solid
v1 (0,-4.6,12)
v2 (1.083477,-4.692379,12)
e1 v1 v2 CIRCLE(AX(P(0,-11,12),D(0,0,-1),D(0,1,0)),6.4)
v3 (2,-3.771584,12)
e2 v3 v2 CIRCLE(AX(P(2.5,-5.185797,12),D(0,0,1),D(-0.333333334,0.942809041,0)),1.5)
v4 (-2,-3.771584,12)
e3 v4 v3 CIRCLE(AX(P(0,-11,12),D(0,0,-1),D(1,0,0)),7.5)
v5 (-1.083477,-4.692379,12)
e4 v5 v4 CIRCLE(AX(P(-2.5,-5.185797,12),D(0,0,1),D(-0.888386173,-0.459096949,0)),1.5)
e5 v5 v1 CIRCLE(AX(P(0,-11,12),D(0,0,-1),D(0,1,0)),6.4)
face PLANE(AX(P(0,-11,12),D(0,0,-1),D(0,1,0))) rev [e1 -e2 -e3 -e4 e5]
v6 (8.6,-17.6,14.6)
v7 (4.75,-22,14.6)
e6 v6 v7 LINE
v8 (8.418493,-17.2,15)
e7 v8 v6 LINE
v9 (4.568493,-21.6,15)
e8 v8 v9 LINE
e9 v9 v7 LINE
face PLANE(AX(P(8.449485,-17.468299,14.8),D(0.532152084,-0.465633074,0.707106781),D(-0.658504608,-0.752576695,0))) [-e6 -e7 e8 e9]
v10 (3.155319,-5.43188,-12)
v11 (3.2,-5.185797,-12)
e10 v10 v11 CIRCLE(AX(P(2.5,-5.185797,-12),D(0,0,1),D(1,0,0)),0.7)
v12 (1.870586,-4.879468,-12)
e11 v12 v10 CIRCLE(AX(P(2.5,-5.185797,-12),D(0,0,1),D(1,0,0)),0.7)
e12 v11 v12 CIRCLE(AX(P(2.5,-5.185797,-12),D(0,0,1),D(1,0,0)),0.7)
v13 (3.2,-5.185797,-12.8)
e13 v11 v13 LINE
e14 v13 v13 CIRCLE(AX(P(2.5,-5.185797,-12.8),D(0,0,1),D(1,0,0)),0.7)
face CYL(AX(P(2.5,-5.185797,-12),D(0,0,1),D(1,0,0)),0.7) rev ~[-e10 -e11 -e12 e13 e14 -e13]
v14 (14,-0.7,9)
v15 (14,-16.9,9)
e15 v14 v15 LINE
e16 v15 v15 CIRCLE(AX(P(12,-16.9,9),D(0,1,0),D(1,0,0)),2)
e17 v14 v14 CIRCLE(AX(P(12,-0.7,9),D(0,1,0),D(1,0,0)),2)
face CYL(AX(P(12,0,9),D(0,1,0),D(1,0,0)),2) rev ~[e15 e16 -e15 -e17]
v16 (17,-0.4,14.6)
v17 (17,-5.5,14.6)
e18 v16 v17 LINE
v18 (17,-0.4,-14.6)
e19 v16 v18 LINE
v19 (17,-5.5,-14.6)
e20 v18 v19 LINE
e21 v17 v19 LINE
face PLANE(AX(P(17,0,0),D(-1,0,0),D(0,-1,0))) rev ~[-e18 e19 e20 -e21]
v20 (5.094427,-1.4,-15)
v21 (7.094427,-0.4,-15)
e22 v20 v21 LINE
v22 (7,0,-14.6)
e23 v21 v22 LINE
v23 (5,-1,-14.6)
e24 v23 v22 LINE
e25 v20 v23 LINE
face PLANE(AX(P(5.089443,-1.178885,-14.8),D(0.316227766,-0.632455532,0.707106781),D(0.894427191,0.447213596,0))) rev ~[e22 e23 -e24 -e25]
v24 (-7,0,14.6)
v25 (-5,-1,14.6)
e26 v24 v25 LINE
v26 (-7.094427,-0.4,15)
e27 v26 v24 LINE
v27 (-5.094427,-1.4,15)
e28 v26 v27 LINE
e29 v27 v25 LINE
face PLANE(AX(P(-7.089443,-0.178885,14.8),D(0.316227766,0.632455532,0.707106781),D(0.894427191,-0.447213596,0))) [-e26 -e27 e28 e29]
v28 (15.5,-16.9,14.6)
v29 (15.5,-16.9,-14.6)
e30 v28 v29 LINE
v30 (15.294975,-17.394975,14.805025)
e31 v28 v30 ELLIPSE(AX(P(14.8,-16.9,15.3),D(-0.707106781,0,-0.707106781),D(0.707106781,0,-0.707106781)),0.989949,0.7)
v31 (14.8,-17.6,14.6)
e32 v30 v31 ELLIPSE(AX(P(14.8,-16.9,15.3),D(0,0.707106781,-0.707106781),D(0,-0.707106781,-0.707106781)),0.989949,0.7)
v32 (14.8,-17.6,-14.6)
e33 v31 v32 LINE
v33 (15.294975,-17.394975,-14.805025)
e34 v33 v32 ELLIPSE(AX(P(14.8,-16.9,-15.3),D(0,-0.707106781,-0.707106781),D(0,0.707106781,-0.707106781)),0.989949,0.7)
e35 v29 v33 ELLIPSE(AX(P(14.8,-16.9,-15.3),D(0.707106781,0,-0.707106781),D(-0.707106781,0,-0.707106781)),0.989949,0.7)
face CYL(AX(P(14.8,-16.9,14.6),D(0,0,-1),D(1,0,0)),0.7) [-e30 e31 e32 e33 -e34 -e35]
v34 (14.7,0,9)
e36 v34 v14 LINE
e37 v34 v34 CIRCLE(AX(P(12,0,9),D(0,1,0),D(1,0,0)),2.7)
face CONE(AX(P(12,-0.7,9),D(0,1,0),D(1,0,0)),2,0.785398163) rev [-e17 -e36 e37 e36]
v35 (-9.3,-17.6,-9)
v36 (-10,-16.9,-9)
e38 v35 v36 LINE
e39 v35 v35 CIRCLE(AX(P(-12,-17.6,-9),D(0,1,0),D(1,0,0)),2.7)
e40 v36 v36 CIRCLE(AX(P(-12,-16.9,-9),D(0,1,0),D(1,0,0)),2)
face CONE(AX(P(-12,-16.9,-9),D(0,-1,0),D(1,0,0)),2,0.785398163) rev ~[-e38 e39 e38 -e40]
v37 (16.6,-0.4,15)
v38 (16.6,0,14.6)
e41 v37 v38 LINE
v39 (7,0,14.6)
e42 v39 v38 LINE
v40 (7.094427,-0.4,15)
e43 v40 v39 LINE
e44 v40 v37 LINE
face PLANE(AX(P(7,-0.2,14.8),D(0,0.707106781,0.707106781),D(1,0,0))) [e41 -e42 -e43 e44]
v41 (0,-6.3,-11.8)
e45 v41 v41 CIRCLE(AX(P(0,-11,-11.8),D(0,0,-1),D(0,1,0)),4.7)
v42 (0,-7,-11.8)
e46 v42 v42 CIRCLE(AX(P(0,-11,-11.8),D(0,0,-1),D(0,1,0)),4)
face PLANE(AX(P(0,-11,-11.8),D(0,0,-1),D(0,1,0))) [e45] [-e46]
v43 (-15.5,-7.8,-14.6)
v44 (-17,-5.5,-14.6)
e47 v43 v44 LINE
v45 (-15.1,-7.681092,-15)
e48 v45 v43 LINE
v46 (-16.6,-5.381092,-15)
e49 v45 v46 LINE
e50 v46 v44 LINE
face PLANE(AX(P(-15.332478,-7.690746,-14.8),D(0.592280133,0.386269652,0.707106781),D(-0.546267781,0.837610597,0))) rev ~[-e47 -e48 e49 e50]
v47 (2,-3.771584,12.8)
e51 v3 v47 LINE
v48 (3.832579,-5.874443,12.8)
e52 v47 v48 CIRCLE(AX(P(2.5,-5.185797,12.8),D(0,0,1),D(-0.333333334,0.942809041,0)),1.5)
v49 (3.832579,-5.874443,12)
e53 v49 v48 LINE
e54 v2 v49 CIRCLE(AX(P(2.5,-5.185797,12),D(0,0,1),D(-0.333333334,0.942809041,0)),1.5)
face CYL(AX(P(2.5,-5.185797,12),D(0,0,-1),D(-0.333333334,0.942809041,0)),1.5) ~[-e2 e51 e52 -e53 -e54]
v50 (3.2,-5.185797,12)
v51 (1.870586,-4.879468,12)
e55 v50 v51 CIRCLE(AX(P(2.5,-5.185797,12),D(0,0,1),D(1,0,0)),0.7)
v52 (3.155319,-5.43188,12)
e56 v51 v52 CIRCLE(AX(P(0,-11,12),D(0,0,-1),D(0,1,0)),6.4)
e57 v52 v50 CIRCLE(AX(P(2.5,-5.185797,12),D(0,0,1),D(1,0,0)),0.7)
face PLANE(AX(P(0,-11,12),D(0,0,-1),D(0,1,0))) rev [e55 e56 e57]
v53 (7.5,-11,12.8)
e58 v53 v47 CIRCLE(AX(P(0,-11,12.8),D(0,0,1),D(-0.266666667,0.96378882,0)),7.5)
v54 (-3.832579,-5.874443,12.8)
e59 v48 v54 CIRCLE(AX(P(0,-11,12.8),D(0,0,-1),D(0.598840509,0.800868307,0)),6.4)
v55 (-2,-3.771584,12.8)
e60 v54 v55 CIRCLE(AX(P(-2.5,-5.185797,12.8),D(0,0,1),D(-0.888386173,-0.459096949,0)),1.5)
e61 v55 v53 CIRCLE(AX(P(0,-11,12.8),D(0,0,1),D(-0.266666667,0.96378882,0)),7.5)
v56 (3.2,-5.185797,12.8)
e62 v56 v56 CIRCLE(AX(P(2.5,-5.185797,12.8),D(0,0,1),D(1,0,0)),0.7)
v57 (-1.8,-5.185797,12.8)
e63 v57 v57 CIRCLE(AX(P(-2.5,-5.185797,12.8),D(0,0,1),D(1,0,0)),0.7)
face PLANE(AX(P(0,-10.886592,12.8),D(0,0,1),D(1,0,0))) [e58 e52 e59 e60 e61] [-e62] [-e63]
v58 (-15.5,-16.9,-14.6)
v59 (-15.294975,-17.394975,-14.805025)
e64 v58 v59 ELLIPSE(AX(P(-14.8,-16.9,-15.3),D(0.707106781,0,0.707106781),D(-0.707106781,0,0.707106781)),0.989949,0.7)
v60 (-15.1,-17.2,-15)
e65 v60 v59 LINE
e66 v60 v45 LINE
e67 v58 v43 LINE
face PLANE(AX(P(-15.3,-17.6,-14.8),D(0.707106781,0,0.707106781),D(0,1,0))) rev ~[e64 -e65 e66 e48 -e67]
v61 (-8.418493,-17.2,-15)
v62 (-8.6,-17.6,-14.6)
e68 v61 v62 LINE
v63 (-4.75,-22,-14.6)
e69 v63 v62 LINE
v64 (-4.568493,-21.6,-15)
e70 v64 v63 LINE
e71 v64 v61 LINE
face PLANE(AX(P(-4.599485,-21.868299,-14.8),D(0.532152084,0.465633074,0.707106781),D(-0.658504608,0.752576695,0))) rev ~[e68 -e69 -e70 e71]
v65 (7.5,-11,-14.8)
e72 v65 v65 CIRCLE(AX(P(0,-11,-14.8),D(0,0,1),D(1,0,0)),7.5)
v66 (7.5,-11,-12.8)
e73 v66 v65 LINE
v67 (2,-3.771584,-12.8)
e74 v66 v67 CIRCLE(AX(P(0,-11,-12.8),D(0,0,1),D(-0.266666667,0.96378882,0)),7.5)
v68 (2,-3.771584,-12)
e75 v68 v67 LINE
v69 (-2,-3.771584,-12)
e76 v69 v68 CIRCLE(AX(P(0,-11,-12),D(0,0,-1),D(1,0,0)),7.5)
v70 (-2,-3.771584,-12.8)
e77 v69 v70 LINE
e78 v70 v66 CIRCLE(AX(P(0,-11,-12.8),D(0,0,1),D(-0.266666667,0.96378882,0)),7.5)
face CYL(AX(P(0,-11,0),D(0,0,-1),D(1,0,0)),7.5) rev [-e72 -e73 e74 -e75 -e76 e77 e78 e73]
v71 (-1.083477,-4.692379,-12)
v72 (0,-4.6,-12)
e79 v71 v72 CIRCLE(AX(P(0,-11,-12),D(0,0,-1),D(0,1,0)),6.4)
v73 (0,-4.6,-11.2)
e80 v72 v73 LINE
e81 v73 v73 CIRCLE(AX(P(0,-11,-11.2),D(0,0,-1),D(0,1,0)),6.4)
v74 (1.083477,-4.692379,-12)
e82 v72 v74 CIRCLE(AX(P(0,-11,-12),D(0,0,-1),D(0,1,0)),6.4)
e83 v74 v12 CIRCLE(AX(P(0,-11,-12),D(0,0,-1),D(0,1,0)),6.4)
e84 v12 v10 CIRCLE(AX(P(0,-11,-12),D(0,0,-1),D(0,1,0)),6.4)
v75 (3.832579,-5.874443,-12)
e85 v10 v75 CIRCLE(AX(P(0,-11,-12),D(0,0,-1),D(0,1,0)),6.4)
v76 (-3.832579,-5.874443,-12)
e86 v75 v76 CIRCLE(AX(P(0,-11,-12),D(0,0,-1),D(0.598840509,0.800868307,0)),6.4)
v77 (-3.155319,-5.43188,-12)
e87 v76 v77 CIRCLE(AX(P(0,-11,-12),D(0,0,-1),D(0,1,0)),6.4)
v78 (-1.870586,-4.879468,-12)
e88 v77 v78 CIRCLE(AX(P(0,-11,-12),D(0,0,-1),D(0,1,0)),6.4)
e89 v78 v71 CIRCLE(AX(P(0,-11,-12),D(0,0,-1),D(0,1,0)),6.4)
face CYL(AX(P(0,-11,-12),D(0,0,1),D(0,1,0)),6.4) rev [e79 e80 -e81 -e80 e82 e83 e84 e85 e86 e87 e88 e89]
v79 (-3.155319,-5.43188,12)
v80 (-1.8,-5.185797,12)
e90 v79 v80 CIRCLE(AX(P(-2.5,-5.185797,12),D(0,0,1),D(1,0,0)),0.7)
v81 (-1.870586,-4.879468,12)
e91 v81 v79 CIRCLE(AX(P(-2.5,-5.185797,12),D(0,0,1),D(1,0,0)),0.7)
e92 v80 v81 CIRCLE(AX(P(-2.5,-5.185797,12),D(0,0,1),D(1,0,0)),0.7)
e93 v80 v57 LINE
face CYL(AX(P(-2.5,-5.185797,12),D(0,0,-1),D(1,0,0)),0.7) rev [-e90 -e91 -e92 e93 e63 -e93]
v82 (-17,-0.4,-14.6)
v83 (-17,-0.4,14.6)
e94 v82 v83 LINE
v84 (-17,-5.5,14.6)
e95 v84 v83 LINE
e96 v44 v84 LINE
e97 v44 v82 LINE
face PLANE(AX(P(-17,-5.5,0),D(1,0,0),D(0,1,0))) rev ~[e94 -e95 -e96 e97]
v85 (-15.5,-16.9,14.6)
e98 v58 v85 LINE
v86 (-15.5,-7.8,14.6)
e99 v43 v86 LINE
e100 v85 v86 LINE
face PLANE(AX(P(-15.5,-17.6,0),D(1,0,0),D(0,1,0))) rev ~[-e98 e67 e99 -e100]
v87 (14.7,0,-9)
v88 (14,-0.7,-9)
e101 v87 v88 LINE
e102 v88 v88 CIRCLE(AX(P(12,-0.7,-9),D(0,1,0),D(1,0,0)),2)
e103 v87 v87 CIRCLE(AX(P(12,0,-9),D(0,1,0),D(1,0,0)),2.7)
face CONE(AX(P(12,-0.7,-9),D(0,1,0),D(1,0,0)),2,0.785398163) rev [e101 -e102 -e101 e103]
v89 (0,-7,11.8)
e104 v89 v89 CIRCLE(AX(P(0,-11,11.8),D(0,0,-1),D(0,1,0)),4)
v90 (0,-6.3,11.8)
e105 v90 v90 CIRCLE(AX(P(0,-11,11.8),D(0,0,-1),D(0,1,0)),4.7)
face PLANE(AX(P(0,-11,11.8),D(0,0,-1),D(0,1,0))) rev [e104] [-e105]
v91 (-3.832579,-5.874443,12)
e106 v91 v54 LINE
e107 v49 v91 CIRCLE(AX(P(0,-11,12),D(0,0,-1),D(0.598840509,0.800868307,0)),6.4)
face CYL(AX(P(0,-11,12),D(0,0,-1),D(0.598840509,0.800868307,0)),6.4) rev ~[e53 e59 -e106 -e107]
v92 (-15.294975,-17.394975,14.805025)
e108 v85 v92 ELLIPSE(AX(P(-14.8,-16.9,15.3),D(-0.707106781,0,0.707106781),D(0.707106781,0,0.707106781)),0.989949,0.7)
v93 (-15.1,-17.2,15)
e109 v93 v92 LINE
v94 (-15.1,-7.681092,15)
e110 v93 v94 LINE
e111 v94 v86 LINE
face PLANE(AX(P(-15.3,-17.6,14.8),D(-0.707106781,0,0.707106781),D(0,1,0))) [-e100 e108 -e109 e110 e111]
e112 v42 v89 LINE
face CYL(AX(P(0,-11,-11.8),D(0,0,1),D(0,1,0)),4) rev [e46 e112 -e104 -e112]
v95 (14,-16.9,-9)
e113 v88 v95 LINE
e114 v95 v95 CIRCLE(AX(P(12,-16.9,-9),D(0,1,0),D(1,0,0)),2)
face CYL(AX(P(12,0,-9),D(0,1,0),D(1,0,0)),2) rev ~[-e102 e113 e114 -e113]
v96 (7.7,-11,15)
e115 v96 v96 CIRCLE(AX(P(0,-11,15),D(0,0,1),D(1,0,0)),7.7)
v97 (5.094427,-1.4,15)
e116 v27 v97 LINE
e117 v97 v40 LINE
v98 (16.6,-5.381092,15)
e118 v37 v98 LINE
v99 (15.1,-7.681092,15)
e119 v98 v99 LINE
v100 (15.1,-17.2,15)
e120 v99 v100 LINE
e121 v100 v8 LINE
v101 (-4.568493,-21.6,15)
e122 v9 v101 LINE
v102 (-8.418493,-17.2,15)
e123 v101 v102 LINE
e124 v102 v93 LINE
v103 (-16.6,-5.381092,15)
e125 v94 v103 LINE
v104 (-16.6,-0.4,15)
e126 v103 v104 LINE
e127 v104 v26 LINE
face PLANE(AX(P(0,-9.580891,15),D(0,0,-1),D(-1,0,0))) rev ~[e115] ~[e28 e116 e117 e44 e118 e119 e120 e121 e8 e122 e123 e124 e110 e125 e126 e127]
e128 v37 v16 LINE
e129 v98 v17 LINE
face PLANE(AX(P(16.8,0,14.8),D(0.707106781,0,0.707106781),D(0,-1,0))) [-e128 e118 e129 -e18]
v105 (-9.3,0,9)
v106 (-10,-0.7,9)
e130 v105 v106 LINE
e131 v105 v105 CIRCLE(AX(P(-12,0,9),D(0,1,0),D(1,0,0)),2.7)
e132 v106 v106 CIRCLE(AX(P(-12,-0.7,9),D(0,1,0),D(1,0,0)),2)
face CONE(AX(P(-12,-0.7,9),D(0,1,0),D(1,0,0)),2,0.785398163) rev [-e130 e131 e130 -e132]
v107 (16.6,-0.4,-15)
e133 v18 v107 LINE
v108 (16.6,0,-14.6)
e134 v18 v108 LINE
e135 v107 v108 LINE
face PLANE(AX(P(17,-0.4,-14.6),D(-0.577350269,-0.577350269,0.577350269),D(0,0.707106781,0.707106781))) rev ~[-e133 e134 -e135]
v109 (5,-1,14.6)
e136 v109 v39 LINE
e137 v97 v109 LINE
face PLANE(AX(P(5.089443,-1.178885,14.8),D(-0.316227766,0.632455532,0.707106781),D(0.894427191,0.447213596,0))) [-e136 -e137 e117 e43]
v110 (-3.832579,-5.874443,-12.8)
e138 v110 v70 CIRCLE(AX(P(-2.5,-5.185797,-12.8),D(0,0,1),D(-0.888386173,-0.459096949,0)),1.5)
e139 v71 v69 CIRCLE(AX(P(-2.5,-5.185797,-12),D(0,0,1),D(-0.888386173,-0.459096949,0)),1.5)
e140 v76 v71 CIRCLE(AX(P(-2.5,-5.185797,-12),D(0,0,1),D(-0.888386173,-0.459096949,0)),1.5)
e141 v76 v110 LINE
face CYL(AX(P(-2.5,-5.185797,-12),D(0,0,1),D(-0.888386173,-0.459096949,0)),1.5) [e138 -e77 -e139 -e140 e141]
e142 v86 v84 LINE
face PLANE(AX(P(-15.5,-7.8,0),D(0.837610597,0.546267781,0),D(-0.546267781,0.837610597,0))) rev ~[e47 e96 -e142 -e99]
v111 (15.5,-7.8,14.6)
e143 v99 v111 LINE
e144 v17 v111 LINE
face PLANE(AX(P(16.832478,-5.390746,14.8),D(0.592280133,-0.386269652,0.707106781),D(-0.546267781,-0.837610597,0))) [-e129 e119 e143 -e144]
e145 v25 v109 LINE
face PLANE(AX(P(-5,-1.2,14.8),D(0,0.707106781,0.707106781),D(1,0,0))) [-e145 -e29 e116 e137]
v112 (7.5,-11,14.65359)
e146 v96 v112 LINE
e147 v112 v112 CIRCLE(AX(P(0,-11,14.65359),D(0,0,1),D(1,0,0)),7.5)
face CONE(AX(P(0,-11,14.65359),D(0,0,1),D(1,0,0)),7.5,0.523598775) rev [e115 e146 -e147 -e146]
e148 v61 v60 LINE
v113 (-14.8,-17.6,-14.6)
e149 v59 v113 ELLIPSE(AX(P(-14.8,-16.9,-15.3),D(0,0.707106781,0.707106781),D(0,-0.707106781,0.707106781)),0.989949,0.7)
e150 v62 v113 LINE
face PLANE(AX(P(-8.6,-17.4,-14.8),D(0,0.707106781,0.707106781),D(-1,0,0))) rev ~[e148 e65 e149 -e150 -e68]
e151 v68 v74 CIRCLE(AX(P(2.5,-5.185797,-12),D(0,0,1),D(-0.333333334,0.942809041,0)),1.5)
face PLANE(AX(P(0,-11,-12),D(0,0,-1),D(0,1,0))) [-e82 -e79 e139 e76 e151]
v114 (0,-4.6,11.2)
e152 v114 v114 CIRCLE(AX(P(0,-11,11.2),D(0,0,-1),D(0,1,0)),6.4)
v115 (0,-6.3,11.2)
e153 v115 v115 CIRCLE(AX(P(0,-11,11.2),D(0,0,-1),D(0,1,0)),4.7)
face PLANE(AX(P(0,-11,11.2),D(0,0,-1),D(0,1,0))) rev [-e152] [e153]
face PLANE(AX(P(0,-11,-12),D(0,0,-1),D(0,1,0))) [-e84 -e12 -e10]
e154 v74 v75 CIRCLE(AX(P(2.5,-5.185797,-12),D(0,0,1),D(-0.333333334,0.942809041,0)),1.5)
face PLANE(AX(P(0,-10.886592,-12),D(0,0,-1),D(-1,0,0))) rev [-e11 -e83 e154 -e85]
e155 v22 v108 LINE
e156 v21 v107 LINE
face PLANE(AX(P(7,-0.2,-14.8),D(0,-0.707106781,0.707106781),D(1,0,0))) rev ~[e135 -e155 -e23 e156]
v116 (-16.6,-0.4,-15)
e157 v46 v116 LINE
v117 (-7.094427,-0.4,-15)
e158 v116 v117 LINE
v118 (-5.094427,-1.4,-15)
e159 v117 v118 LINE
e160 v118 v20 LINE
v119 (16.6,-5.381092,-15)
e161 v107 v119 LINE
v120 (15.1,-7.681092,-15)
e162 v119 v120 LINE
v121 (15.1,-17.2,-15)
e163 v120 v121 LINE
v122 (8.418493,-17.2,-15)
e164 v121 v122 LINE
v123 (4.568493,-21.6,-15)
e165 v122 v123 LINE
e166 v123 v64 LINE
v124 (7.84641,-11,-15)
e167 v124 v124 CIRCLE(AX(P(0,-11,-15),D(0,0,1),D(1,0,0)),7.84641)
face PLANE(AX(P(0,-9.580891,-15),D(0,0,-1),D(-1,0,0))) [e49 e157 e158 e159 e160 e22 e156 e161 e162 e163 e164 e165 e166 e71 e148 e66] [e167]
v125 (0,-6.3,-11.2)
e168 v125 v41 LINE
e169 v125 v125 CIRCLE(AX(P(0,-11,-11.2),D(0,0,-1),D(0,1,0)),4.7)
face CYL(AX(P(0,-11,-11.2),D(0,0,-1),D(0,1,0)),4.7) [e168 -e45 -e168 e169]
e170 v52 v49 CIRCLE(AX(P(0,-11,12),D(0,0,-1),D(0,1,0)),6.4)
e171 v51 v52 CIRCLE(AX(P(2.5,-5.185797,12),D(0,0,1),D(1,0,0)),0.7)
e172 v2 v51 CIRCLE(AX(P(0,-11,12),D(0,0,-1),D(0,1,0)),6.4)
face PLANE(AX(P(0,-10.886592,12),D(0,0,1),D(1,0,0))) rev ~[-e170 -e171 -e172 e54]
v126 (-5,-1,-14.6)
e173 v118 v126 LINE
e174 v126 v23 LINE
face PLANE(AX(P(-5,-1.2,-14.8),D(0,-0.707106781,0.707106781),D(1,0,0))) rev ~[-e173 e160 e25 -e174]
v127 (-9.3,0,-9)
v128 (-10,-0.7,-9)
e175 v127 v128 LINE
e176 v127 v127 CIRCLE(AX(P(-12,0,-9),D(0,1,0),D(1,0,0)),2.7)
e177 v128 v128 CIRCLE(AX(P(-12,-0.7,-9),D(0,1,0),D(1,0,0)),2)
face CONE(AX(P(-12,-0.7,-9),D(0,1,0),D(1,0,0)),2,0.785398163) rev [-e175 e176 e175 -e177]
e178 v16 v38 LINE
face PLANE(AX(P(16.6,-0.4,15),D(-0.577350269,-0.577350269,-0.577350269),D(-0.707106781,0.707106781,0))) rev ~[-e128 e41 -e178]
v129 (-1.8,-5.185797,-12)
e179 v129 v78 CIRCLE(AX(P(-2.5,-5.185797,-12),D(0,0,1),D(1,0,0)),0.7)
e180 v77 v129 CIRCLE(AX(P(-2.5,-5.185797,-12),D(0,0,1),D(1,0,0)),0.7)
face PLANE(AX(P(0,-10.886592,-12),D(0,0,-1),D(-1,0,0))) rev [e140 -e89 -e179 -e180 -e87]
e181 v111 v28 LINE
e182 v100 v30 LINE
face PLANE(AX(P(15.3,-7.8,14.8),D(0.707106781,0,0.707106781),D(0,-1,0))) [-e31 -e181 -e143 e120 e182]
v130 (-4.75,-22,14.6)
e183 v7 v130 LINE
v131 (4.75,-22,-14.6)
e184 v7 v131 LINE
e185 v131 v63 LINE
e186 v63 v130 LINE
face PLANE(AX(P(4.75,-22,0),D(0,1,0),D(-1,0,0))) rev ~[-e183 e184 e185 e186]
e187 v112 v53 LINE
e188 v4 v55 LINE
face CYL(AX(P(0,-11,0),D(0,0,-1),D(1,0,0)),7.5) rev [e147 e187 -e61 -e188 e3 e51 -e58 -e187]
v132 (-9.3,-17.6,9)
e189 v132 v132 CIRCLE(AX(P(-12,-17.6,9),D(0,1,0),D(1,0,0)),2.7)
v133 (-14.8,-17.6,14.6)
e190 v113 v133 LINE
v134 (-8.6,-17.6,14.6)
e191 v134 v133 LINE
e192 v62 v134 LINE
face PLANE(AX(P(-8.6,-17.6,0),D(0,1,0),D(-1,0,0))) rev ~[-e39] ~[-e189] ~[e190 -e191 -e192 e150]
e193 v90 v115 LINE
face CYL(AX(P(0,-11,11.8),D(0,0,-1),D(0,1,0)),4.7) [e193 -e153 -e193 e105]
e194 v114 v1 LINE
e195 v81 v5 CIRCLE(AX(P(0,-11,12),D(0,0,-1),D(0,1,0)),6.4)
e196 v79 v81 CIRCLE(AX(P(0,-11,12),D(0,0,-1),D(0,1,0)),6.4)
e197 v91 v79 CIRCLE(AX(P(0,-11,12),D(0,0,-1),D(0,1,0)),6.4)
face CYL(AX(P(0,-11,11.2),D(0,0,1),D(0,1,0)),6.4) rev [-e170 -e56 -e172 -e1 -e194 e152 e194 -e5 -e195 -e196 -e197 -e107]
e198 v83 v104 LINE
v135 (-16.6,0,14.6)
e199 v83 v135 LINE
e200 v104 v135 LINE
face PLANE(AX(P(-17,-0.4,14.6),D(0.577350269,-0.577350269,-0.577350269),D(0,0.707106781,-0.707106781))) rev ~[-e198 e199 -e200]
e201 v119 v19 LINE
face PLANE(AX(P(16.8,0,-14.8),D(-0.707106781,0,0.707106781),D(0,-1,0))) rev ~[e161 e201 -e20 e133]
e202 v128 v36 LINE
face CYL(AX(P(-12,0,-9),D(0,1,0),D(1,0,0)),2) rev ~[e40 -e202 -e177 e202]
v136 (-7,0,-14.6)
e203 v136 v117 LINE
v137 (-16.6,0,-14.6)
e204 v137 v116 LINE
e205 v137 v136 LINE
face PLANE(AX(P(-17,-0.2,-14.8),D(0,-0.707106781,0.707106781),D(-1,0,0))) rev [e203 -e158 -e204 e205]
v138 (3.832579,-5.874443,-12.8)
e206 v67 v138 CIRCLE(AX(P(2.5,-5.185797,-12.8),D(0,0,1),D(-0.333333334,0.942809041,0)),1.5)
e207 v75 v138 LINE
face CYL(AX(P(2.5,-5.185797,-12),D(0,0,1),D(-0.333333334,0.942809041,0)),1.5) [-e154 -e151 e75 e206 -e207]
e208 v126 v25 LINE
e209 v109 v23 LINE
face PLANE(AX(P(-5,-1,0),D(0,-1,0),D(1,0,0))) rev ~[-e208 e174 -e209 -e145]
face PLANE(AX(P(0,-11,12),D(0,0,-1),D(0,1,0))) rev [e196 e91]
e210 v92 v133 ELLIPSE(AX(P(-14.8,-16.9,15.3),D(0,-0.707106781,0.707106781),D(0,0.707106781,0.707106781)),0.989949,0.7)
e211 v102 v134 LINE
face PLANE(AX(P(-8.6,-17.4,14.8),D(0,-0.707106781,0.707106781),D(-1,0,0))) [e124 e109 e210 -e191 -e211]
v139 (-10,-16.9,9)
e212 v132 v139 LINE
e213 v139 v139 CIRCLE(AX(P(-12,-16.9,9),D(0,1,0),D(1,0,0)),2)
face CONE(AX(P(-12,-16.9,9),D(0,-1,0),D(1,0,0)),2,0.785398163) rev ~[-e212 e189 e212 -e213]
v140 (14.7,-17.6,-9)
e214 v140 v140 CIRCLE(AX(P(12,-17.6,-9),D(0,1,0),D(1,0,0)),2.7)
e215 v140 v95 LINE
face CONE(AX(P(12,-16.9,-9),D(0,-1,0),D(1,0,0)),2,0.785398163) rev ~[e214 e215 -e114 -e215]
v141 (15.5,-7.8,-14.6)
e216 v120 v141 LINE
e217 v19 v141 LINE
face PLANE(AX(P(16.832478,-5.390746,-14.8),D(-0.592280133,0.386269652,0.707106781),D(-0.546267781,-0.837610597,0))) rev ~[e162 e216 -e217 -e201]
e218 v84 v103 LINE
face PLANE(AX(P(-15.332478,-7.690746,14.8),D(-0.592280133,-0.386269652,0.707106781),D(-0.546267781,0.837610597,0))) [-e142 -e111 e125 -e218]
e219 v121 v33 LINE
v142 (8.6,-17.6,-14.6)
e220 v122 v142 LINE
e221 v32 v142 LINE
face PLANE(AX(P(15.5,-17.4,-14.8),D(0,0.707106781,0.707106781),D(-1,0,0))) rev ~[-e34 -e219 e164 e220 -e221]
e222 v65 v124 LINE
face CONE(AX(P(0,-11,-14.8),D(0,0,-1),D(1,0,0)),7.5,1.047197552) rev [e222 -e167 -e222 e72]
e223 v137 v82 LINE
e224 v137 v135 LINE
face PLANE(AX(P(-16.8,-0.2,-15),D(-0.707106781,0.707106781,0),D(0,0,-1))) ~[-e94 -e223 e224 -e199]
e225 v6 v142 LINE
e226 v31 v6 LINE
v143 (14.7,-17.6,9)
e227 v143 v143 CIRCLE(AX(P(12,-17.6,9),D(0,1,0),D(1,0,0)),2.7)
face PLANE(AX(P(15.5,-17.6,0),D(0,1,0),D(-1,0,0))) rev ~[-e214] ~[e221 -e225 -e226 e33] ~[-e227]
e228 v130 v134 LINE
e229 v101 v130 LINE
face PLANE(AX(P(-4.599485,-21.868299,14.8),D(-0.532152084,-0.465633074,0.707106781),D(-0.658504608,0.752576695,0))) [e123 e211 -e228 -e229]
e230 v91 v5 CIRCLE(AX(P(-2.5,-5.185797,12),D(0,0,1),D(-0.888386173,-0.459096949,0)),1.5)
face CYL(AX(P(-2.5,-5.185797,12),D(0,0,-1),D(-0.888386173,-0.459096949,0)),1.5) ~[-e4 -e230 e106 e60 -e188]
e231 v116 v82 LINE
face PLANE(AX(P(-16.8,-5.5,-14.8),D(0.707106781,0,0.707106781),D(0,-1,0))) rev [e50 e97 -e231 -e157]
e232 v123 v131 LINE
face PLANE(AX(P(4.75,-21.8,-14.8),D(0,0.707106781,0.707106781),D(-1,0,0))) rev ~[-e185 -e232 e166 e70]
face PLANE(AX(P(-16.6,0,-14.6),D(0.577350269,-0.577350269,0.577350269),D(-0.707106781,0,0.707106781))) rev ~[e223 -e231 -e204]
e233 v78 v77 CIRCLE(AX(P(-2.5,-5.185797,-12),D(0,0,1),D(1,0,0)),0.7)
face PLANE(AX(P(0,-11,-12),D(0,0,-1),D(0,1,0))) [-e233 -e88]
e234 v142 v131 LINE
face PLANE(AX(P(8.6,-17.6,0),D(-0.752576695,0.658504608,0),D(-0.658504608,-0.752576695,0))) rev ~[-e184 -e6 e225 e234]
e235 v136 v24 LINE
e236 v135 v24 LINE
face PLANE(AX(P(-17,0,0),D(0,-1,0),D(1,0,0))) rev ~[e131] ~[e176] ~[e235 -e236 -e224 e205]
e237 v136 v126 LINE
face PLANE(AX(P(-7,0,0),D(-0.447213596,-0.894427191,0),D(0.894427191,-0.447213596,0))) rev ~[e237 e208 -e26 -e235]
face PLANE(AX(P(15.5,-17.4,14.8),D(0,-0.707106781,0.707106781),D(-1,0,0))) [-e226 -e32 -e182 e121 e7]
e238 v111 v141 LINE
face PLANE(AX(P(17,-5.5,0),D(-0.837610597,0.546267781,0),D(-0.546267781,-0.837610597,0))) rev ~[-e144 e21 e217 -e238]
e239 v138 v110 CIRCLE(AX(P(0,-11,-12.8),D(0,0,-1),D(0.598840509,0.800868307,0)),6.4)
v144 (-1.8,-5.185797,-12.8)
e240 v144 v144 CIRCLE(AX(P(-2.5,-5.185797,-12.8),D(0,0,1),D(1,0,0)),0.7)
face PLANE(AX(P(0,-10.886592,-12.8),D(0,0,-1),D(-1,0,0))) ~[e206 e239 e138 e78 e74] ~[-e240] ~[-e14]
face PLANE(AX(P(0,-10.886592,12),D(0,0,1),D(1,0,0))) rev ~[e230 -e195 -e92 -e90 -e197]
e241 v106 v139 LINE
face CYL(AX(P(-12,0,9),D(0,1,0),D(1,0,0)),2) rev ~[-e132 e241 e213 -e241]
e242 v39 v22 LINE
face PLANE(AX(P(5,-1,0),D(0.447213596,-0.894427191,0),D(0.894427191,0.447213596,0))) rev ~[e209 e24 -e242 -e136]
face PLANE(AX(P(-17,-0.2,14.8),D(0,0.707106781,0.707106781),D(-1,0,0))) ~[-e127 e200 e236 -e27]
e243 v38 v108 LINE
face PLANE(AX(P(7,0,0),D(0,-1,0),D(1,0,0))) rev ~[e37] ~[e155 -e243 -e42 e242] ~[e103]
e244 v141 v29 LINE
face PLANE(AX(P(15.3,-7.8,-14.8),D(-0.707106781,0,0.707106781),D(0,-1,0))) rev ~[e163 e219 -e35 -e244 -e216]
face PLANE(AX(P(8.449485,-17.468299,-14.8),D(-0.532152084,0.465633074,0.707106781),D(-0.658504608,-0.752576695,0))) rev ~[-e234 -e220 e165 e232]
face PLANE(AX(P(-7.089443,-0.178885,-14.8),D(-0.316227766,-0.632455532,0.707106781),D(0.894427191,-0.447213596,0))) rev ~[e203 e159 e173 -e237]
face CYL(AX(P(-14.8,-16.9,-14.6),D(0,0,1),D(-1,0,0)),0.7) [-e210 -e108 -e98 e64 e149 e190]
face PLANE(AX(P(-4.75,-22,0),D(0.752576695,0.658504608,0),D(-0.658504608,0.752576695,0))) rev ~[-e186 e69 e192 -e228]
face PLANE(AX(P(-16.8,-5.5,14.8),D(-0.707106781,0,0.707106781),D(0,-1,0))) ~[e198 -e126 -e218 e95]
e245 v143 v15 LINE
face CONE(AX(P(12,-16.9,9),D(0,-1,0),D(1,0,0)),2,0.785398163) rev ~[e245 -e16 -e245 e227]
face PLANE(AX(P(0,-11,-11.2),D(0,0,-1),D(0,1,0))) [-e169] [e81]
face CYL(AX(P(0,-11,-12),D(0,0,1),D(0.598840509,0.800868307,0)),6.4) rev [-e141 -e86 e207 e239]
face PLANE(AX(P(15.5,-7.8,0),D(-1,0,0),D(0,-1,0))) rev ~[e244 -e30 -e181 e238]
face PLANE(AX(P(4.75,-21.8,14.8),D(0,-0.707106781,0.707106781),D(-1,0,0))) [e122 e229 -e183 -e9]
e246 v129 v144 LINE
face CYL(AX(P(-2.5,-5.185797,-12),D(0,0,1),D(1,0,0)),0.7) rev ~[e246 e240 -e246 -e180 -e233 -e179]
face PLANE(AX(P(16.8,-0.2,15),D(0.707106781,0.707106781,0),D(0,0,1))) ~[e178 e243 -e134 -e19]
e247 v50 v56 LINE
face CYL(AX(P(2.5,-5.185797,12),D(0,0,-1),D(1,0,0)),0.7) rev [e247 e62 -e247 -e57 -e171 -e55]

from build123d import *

# Parameters (mm, degrees)
SKETCH1_R             = 7.5
BOSS_EXTRUDE1_DEPTH   = 15
SKETCH3_R             = 0.7
BOSS_EXTRUDE2_DEPTH   = 0.8
CHAFL_N0_SIZE         = 0.2
CHAFL_N0_SIZE2        = 0.346410162
CHAFL_N0_PART_2_SIZE  = 0.2
CHAFL_N0_PART_2_SIZE2 = 0.346410162
CROQUIS1_R            = 2
CORTAR_EXTRUIR1_DEPTH = 20
CHAFL_N1_SIZE         = 0.7
CHAFL_N2_SIZE         = 0.4
REDONDEO1_R           = 0.7


with BuildPart() as part:
    # Sketch1 → Boss-Extrude1 (new body, symmetric)
    with BuildSketch(Plane.XY):
        Polygon((-5, -1), (5, -1), (7, 0), (17, 0), (17, -5.5), (15.5, -7.8), (15.5, -17.6), (8.6, -17.6), (4.75, -22), (-4.75, -22), (-8.6, -17.6), (-15.5, -17.6), (-15.5, -7.8), (-17, -5.5), (-17, 0), (-7, 0), align=None)
        with Locations((0, -11)):
            Circle(SKETCH1_R, mode=Mode.SUBTRACT)
    extrude(amount=BOSS_EXTRUDE1_DEPTH, both=True)

    # Sketch2 → Revolve1 (revolve)
    with BuildSketch(Plane(origin=(0, 0, 0), x_dir=(0, 0, -1), z_dir=(1, 0, 0))):
        Polygon((-12, -3.5), (12, -3.5), (12, -4.6), (11.2, -4.6), (11.2, -6.3), (11.8, -6.3), (11.8, -7), (-11.8, -7), (-11.8, -6.3), (-11.2, -6.3), (-11.2, -4.6), (-12, -4.6), align=None)
    revolve(axis=Axis((0, -11, 30.2753079), (0, 0, -1)))

    # Sketch3 → Boss-Extrude2 (add)
    with BuildSketch(Plane.XY.offset(12)):
        with BuildLine():
            ThreePointArc((2, -3.771583853), (1.369159148, -6.17129169), (3.832579259, -5.874442838))
            ThreePointArc((3.832579259, -5.874442838), (0, -17.4), (-3.832579259, -5.874442838))
            ThreePointArc((-3.832579259, -5.874442838), (-1.369159148, -6.17129169), (-2, -3.771583853))
            ThreePointArc((-2, -3.771583853), (0, -18.5), (2, -3.771583853))
        make_face()
        with Locations((2.5, -5.185797415)):
            Circle(SKETCH3_R, mode=Mode.SUBTRACT)
        with Locations((-2.5, -5.185797415)):
            Circle(SKETCH3_R, mode=Mode.SUBTRACT)
    boss_extrude2 = extrude(amount=BOSS_EXTRUDE2_DEPTH)

    # simetria: Boss-Extrude2 across plane
    add(boss_extrude2.mirror(Plane.XY))

    # Chaflàn0
    chafl_n0_edges = [part.edges().sort_by_distance(p)[0] for p in [
        (-7.5, -11, -15),
    ]]
    chafl_n0_side = [part.faces().sort_by_distance(p)[0] for p in [
        (-7.5, -11, -13.5),
    ]]
    chamfer(chafl_n0_edges, length=CHAFL_N0_SIZE, length2=CHAFL_N0_SIZE2, reference=chafl_n0_side[0])

    # Chaflàn0 part 2
    chafl_n0_part_2_edges = [part.edges().sort_by_distance(p)[0] for p in [
        (-7.5, -11, 15),
    ]]
    chafl_n0_part_2_side = [part.faces().sort_by_distance(p)[0] for p in [
        (0, -1.404969135, 15),
    ]]
    chamfer(chafl_n0_part_2_edges, length=CHAFL_N0_PART_2_SIZE, length2=CHAFL_N0_PART_2_SIZE2, reference=chafl_n0_part_2_side[0])

    # Croquis1 → Cortar-Extruir1 (cut)
    with BuildSketch(Plane(origin=(0, 0, 0), x_dir=(1, 0, 0), z_dir=(0, 1, 0))):
        with Locations((-12, 9)):
            Circle(CROQUIS1_R)
        with Locations((12, 9)):
            Circle(CROQUIS1_R)
        with Locations((-12, -9)):
            Circle(CROQUIS1_R)
        with Locations((12, -9)):
            Circle(CROQUIS1_R)
    extrude(amount=-CORTAR_EXTRUIR1_DEPTH, mode=Mode.SUBTRACT)

    # Chaflán1
    chafl_n1_edges = [part.edges().sort_by_distance(p)[0] for p in [
        (-14, -17.6, -9),
        (-14, 0, -9),
        (10, -17.6, -9),
        (10, 0, -9),
        (-14, -17.6, 9),
        (-14, 0, 9),
        (10, -17.6, 9),
        (10, 0, 9),
    ]]
    chamfer(chafl_n1_edges, length=CHAFL_N1_SIZE)

    # Chaflán2
    chafl_n2_edges = [part.edges().sort_by_distance(p)[0] for p in [
        (-6, -0.5, 15),
        (-12, 0, 15),
        (12, 0, -15),
        (17, -2.75, -15),
        (16.25, -6.65, -15),
        (15.5, -12.7, -15),
        (12.05, -17.6, -15),
        (-17, -2.75, 15),
        (6.675, -19.8, -15),
        (0, -22, -15),
        (-6.675, -19.8, -15),
        (-12.05, -17.6, -15),
        (-15.5, -12.7, -15),
        (-16.25, -6.65, -15),
        (-17, -2.75, -15),
        (-12, 0, -15),
        (-16.25, -6.65, 15),
        (-6, -0.5, -15),
        (0, -1, -15),
        (6, -0.5, -15),
        (-15.5, -12.7, 15),
        (-12.05, -17.6, 15),
        (17, 0, 0),
        (-17, 0, 0),
        (-6.675, -19.8, 15),
        (0, -22, 15),
        (6.675, -19.8, 15),
        (12.05, -17.6, 15),
        (6, -0.5, 15),
        (15.5, -12.7, 15),
        (16.25, -6.65, 15),
        (17, -2.75, 15),
        (12, 0, 15),
        (0, -1, 15),
    ]]
    chamfer(chafl_n2_edges, length=CHAFL_N2_SIZE)

    # Redondeo1
    redondeo1_edges = [part.edges().sort_by_distance(p)[0] for p in [
        (15.5, -17.6, 0),
        (-15.5, -17.6, 0),
    ]]
    fillet(redondeo1_edges, radius=REDONDEO1_R)


solid = part.part
